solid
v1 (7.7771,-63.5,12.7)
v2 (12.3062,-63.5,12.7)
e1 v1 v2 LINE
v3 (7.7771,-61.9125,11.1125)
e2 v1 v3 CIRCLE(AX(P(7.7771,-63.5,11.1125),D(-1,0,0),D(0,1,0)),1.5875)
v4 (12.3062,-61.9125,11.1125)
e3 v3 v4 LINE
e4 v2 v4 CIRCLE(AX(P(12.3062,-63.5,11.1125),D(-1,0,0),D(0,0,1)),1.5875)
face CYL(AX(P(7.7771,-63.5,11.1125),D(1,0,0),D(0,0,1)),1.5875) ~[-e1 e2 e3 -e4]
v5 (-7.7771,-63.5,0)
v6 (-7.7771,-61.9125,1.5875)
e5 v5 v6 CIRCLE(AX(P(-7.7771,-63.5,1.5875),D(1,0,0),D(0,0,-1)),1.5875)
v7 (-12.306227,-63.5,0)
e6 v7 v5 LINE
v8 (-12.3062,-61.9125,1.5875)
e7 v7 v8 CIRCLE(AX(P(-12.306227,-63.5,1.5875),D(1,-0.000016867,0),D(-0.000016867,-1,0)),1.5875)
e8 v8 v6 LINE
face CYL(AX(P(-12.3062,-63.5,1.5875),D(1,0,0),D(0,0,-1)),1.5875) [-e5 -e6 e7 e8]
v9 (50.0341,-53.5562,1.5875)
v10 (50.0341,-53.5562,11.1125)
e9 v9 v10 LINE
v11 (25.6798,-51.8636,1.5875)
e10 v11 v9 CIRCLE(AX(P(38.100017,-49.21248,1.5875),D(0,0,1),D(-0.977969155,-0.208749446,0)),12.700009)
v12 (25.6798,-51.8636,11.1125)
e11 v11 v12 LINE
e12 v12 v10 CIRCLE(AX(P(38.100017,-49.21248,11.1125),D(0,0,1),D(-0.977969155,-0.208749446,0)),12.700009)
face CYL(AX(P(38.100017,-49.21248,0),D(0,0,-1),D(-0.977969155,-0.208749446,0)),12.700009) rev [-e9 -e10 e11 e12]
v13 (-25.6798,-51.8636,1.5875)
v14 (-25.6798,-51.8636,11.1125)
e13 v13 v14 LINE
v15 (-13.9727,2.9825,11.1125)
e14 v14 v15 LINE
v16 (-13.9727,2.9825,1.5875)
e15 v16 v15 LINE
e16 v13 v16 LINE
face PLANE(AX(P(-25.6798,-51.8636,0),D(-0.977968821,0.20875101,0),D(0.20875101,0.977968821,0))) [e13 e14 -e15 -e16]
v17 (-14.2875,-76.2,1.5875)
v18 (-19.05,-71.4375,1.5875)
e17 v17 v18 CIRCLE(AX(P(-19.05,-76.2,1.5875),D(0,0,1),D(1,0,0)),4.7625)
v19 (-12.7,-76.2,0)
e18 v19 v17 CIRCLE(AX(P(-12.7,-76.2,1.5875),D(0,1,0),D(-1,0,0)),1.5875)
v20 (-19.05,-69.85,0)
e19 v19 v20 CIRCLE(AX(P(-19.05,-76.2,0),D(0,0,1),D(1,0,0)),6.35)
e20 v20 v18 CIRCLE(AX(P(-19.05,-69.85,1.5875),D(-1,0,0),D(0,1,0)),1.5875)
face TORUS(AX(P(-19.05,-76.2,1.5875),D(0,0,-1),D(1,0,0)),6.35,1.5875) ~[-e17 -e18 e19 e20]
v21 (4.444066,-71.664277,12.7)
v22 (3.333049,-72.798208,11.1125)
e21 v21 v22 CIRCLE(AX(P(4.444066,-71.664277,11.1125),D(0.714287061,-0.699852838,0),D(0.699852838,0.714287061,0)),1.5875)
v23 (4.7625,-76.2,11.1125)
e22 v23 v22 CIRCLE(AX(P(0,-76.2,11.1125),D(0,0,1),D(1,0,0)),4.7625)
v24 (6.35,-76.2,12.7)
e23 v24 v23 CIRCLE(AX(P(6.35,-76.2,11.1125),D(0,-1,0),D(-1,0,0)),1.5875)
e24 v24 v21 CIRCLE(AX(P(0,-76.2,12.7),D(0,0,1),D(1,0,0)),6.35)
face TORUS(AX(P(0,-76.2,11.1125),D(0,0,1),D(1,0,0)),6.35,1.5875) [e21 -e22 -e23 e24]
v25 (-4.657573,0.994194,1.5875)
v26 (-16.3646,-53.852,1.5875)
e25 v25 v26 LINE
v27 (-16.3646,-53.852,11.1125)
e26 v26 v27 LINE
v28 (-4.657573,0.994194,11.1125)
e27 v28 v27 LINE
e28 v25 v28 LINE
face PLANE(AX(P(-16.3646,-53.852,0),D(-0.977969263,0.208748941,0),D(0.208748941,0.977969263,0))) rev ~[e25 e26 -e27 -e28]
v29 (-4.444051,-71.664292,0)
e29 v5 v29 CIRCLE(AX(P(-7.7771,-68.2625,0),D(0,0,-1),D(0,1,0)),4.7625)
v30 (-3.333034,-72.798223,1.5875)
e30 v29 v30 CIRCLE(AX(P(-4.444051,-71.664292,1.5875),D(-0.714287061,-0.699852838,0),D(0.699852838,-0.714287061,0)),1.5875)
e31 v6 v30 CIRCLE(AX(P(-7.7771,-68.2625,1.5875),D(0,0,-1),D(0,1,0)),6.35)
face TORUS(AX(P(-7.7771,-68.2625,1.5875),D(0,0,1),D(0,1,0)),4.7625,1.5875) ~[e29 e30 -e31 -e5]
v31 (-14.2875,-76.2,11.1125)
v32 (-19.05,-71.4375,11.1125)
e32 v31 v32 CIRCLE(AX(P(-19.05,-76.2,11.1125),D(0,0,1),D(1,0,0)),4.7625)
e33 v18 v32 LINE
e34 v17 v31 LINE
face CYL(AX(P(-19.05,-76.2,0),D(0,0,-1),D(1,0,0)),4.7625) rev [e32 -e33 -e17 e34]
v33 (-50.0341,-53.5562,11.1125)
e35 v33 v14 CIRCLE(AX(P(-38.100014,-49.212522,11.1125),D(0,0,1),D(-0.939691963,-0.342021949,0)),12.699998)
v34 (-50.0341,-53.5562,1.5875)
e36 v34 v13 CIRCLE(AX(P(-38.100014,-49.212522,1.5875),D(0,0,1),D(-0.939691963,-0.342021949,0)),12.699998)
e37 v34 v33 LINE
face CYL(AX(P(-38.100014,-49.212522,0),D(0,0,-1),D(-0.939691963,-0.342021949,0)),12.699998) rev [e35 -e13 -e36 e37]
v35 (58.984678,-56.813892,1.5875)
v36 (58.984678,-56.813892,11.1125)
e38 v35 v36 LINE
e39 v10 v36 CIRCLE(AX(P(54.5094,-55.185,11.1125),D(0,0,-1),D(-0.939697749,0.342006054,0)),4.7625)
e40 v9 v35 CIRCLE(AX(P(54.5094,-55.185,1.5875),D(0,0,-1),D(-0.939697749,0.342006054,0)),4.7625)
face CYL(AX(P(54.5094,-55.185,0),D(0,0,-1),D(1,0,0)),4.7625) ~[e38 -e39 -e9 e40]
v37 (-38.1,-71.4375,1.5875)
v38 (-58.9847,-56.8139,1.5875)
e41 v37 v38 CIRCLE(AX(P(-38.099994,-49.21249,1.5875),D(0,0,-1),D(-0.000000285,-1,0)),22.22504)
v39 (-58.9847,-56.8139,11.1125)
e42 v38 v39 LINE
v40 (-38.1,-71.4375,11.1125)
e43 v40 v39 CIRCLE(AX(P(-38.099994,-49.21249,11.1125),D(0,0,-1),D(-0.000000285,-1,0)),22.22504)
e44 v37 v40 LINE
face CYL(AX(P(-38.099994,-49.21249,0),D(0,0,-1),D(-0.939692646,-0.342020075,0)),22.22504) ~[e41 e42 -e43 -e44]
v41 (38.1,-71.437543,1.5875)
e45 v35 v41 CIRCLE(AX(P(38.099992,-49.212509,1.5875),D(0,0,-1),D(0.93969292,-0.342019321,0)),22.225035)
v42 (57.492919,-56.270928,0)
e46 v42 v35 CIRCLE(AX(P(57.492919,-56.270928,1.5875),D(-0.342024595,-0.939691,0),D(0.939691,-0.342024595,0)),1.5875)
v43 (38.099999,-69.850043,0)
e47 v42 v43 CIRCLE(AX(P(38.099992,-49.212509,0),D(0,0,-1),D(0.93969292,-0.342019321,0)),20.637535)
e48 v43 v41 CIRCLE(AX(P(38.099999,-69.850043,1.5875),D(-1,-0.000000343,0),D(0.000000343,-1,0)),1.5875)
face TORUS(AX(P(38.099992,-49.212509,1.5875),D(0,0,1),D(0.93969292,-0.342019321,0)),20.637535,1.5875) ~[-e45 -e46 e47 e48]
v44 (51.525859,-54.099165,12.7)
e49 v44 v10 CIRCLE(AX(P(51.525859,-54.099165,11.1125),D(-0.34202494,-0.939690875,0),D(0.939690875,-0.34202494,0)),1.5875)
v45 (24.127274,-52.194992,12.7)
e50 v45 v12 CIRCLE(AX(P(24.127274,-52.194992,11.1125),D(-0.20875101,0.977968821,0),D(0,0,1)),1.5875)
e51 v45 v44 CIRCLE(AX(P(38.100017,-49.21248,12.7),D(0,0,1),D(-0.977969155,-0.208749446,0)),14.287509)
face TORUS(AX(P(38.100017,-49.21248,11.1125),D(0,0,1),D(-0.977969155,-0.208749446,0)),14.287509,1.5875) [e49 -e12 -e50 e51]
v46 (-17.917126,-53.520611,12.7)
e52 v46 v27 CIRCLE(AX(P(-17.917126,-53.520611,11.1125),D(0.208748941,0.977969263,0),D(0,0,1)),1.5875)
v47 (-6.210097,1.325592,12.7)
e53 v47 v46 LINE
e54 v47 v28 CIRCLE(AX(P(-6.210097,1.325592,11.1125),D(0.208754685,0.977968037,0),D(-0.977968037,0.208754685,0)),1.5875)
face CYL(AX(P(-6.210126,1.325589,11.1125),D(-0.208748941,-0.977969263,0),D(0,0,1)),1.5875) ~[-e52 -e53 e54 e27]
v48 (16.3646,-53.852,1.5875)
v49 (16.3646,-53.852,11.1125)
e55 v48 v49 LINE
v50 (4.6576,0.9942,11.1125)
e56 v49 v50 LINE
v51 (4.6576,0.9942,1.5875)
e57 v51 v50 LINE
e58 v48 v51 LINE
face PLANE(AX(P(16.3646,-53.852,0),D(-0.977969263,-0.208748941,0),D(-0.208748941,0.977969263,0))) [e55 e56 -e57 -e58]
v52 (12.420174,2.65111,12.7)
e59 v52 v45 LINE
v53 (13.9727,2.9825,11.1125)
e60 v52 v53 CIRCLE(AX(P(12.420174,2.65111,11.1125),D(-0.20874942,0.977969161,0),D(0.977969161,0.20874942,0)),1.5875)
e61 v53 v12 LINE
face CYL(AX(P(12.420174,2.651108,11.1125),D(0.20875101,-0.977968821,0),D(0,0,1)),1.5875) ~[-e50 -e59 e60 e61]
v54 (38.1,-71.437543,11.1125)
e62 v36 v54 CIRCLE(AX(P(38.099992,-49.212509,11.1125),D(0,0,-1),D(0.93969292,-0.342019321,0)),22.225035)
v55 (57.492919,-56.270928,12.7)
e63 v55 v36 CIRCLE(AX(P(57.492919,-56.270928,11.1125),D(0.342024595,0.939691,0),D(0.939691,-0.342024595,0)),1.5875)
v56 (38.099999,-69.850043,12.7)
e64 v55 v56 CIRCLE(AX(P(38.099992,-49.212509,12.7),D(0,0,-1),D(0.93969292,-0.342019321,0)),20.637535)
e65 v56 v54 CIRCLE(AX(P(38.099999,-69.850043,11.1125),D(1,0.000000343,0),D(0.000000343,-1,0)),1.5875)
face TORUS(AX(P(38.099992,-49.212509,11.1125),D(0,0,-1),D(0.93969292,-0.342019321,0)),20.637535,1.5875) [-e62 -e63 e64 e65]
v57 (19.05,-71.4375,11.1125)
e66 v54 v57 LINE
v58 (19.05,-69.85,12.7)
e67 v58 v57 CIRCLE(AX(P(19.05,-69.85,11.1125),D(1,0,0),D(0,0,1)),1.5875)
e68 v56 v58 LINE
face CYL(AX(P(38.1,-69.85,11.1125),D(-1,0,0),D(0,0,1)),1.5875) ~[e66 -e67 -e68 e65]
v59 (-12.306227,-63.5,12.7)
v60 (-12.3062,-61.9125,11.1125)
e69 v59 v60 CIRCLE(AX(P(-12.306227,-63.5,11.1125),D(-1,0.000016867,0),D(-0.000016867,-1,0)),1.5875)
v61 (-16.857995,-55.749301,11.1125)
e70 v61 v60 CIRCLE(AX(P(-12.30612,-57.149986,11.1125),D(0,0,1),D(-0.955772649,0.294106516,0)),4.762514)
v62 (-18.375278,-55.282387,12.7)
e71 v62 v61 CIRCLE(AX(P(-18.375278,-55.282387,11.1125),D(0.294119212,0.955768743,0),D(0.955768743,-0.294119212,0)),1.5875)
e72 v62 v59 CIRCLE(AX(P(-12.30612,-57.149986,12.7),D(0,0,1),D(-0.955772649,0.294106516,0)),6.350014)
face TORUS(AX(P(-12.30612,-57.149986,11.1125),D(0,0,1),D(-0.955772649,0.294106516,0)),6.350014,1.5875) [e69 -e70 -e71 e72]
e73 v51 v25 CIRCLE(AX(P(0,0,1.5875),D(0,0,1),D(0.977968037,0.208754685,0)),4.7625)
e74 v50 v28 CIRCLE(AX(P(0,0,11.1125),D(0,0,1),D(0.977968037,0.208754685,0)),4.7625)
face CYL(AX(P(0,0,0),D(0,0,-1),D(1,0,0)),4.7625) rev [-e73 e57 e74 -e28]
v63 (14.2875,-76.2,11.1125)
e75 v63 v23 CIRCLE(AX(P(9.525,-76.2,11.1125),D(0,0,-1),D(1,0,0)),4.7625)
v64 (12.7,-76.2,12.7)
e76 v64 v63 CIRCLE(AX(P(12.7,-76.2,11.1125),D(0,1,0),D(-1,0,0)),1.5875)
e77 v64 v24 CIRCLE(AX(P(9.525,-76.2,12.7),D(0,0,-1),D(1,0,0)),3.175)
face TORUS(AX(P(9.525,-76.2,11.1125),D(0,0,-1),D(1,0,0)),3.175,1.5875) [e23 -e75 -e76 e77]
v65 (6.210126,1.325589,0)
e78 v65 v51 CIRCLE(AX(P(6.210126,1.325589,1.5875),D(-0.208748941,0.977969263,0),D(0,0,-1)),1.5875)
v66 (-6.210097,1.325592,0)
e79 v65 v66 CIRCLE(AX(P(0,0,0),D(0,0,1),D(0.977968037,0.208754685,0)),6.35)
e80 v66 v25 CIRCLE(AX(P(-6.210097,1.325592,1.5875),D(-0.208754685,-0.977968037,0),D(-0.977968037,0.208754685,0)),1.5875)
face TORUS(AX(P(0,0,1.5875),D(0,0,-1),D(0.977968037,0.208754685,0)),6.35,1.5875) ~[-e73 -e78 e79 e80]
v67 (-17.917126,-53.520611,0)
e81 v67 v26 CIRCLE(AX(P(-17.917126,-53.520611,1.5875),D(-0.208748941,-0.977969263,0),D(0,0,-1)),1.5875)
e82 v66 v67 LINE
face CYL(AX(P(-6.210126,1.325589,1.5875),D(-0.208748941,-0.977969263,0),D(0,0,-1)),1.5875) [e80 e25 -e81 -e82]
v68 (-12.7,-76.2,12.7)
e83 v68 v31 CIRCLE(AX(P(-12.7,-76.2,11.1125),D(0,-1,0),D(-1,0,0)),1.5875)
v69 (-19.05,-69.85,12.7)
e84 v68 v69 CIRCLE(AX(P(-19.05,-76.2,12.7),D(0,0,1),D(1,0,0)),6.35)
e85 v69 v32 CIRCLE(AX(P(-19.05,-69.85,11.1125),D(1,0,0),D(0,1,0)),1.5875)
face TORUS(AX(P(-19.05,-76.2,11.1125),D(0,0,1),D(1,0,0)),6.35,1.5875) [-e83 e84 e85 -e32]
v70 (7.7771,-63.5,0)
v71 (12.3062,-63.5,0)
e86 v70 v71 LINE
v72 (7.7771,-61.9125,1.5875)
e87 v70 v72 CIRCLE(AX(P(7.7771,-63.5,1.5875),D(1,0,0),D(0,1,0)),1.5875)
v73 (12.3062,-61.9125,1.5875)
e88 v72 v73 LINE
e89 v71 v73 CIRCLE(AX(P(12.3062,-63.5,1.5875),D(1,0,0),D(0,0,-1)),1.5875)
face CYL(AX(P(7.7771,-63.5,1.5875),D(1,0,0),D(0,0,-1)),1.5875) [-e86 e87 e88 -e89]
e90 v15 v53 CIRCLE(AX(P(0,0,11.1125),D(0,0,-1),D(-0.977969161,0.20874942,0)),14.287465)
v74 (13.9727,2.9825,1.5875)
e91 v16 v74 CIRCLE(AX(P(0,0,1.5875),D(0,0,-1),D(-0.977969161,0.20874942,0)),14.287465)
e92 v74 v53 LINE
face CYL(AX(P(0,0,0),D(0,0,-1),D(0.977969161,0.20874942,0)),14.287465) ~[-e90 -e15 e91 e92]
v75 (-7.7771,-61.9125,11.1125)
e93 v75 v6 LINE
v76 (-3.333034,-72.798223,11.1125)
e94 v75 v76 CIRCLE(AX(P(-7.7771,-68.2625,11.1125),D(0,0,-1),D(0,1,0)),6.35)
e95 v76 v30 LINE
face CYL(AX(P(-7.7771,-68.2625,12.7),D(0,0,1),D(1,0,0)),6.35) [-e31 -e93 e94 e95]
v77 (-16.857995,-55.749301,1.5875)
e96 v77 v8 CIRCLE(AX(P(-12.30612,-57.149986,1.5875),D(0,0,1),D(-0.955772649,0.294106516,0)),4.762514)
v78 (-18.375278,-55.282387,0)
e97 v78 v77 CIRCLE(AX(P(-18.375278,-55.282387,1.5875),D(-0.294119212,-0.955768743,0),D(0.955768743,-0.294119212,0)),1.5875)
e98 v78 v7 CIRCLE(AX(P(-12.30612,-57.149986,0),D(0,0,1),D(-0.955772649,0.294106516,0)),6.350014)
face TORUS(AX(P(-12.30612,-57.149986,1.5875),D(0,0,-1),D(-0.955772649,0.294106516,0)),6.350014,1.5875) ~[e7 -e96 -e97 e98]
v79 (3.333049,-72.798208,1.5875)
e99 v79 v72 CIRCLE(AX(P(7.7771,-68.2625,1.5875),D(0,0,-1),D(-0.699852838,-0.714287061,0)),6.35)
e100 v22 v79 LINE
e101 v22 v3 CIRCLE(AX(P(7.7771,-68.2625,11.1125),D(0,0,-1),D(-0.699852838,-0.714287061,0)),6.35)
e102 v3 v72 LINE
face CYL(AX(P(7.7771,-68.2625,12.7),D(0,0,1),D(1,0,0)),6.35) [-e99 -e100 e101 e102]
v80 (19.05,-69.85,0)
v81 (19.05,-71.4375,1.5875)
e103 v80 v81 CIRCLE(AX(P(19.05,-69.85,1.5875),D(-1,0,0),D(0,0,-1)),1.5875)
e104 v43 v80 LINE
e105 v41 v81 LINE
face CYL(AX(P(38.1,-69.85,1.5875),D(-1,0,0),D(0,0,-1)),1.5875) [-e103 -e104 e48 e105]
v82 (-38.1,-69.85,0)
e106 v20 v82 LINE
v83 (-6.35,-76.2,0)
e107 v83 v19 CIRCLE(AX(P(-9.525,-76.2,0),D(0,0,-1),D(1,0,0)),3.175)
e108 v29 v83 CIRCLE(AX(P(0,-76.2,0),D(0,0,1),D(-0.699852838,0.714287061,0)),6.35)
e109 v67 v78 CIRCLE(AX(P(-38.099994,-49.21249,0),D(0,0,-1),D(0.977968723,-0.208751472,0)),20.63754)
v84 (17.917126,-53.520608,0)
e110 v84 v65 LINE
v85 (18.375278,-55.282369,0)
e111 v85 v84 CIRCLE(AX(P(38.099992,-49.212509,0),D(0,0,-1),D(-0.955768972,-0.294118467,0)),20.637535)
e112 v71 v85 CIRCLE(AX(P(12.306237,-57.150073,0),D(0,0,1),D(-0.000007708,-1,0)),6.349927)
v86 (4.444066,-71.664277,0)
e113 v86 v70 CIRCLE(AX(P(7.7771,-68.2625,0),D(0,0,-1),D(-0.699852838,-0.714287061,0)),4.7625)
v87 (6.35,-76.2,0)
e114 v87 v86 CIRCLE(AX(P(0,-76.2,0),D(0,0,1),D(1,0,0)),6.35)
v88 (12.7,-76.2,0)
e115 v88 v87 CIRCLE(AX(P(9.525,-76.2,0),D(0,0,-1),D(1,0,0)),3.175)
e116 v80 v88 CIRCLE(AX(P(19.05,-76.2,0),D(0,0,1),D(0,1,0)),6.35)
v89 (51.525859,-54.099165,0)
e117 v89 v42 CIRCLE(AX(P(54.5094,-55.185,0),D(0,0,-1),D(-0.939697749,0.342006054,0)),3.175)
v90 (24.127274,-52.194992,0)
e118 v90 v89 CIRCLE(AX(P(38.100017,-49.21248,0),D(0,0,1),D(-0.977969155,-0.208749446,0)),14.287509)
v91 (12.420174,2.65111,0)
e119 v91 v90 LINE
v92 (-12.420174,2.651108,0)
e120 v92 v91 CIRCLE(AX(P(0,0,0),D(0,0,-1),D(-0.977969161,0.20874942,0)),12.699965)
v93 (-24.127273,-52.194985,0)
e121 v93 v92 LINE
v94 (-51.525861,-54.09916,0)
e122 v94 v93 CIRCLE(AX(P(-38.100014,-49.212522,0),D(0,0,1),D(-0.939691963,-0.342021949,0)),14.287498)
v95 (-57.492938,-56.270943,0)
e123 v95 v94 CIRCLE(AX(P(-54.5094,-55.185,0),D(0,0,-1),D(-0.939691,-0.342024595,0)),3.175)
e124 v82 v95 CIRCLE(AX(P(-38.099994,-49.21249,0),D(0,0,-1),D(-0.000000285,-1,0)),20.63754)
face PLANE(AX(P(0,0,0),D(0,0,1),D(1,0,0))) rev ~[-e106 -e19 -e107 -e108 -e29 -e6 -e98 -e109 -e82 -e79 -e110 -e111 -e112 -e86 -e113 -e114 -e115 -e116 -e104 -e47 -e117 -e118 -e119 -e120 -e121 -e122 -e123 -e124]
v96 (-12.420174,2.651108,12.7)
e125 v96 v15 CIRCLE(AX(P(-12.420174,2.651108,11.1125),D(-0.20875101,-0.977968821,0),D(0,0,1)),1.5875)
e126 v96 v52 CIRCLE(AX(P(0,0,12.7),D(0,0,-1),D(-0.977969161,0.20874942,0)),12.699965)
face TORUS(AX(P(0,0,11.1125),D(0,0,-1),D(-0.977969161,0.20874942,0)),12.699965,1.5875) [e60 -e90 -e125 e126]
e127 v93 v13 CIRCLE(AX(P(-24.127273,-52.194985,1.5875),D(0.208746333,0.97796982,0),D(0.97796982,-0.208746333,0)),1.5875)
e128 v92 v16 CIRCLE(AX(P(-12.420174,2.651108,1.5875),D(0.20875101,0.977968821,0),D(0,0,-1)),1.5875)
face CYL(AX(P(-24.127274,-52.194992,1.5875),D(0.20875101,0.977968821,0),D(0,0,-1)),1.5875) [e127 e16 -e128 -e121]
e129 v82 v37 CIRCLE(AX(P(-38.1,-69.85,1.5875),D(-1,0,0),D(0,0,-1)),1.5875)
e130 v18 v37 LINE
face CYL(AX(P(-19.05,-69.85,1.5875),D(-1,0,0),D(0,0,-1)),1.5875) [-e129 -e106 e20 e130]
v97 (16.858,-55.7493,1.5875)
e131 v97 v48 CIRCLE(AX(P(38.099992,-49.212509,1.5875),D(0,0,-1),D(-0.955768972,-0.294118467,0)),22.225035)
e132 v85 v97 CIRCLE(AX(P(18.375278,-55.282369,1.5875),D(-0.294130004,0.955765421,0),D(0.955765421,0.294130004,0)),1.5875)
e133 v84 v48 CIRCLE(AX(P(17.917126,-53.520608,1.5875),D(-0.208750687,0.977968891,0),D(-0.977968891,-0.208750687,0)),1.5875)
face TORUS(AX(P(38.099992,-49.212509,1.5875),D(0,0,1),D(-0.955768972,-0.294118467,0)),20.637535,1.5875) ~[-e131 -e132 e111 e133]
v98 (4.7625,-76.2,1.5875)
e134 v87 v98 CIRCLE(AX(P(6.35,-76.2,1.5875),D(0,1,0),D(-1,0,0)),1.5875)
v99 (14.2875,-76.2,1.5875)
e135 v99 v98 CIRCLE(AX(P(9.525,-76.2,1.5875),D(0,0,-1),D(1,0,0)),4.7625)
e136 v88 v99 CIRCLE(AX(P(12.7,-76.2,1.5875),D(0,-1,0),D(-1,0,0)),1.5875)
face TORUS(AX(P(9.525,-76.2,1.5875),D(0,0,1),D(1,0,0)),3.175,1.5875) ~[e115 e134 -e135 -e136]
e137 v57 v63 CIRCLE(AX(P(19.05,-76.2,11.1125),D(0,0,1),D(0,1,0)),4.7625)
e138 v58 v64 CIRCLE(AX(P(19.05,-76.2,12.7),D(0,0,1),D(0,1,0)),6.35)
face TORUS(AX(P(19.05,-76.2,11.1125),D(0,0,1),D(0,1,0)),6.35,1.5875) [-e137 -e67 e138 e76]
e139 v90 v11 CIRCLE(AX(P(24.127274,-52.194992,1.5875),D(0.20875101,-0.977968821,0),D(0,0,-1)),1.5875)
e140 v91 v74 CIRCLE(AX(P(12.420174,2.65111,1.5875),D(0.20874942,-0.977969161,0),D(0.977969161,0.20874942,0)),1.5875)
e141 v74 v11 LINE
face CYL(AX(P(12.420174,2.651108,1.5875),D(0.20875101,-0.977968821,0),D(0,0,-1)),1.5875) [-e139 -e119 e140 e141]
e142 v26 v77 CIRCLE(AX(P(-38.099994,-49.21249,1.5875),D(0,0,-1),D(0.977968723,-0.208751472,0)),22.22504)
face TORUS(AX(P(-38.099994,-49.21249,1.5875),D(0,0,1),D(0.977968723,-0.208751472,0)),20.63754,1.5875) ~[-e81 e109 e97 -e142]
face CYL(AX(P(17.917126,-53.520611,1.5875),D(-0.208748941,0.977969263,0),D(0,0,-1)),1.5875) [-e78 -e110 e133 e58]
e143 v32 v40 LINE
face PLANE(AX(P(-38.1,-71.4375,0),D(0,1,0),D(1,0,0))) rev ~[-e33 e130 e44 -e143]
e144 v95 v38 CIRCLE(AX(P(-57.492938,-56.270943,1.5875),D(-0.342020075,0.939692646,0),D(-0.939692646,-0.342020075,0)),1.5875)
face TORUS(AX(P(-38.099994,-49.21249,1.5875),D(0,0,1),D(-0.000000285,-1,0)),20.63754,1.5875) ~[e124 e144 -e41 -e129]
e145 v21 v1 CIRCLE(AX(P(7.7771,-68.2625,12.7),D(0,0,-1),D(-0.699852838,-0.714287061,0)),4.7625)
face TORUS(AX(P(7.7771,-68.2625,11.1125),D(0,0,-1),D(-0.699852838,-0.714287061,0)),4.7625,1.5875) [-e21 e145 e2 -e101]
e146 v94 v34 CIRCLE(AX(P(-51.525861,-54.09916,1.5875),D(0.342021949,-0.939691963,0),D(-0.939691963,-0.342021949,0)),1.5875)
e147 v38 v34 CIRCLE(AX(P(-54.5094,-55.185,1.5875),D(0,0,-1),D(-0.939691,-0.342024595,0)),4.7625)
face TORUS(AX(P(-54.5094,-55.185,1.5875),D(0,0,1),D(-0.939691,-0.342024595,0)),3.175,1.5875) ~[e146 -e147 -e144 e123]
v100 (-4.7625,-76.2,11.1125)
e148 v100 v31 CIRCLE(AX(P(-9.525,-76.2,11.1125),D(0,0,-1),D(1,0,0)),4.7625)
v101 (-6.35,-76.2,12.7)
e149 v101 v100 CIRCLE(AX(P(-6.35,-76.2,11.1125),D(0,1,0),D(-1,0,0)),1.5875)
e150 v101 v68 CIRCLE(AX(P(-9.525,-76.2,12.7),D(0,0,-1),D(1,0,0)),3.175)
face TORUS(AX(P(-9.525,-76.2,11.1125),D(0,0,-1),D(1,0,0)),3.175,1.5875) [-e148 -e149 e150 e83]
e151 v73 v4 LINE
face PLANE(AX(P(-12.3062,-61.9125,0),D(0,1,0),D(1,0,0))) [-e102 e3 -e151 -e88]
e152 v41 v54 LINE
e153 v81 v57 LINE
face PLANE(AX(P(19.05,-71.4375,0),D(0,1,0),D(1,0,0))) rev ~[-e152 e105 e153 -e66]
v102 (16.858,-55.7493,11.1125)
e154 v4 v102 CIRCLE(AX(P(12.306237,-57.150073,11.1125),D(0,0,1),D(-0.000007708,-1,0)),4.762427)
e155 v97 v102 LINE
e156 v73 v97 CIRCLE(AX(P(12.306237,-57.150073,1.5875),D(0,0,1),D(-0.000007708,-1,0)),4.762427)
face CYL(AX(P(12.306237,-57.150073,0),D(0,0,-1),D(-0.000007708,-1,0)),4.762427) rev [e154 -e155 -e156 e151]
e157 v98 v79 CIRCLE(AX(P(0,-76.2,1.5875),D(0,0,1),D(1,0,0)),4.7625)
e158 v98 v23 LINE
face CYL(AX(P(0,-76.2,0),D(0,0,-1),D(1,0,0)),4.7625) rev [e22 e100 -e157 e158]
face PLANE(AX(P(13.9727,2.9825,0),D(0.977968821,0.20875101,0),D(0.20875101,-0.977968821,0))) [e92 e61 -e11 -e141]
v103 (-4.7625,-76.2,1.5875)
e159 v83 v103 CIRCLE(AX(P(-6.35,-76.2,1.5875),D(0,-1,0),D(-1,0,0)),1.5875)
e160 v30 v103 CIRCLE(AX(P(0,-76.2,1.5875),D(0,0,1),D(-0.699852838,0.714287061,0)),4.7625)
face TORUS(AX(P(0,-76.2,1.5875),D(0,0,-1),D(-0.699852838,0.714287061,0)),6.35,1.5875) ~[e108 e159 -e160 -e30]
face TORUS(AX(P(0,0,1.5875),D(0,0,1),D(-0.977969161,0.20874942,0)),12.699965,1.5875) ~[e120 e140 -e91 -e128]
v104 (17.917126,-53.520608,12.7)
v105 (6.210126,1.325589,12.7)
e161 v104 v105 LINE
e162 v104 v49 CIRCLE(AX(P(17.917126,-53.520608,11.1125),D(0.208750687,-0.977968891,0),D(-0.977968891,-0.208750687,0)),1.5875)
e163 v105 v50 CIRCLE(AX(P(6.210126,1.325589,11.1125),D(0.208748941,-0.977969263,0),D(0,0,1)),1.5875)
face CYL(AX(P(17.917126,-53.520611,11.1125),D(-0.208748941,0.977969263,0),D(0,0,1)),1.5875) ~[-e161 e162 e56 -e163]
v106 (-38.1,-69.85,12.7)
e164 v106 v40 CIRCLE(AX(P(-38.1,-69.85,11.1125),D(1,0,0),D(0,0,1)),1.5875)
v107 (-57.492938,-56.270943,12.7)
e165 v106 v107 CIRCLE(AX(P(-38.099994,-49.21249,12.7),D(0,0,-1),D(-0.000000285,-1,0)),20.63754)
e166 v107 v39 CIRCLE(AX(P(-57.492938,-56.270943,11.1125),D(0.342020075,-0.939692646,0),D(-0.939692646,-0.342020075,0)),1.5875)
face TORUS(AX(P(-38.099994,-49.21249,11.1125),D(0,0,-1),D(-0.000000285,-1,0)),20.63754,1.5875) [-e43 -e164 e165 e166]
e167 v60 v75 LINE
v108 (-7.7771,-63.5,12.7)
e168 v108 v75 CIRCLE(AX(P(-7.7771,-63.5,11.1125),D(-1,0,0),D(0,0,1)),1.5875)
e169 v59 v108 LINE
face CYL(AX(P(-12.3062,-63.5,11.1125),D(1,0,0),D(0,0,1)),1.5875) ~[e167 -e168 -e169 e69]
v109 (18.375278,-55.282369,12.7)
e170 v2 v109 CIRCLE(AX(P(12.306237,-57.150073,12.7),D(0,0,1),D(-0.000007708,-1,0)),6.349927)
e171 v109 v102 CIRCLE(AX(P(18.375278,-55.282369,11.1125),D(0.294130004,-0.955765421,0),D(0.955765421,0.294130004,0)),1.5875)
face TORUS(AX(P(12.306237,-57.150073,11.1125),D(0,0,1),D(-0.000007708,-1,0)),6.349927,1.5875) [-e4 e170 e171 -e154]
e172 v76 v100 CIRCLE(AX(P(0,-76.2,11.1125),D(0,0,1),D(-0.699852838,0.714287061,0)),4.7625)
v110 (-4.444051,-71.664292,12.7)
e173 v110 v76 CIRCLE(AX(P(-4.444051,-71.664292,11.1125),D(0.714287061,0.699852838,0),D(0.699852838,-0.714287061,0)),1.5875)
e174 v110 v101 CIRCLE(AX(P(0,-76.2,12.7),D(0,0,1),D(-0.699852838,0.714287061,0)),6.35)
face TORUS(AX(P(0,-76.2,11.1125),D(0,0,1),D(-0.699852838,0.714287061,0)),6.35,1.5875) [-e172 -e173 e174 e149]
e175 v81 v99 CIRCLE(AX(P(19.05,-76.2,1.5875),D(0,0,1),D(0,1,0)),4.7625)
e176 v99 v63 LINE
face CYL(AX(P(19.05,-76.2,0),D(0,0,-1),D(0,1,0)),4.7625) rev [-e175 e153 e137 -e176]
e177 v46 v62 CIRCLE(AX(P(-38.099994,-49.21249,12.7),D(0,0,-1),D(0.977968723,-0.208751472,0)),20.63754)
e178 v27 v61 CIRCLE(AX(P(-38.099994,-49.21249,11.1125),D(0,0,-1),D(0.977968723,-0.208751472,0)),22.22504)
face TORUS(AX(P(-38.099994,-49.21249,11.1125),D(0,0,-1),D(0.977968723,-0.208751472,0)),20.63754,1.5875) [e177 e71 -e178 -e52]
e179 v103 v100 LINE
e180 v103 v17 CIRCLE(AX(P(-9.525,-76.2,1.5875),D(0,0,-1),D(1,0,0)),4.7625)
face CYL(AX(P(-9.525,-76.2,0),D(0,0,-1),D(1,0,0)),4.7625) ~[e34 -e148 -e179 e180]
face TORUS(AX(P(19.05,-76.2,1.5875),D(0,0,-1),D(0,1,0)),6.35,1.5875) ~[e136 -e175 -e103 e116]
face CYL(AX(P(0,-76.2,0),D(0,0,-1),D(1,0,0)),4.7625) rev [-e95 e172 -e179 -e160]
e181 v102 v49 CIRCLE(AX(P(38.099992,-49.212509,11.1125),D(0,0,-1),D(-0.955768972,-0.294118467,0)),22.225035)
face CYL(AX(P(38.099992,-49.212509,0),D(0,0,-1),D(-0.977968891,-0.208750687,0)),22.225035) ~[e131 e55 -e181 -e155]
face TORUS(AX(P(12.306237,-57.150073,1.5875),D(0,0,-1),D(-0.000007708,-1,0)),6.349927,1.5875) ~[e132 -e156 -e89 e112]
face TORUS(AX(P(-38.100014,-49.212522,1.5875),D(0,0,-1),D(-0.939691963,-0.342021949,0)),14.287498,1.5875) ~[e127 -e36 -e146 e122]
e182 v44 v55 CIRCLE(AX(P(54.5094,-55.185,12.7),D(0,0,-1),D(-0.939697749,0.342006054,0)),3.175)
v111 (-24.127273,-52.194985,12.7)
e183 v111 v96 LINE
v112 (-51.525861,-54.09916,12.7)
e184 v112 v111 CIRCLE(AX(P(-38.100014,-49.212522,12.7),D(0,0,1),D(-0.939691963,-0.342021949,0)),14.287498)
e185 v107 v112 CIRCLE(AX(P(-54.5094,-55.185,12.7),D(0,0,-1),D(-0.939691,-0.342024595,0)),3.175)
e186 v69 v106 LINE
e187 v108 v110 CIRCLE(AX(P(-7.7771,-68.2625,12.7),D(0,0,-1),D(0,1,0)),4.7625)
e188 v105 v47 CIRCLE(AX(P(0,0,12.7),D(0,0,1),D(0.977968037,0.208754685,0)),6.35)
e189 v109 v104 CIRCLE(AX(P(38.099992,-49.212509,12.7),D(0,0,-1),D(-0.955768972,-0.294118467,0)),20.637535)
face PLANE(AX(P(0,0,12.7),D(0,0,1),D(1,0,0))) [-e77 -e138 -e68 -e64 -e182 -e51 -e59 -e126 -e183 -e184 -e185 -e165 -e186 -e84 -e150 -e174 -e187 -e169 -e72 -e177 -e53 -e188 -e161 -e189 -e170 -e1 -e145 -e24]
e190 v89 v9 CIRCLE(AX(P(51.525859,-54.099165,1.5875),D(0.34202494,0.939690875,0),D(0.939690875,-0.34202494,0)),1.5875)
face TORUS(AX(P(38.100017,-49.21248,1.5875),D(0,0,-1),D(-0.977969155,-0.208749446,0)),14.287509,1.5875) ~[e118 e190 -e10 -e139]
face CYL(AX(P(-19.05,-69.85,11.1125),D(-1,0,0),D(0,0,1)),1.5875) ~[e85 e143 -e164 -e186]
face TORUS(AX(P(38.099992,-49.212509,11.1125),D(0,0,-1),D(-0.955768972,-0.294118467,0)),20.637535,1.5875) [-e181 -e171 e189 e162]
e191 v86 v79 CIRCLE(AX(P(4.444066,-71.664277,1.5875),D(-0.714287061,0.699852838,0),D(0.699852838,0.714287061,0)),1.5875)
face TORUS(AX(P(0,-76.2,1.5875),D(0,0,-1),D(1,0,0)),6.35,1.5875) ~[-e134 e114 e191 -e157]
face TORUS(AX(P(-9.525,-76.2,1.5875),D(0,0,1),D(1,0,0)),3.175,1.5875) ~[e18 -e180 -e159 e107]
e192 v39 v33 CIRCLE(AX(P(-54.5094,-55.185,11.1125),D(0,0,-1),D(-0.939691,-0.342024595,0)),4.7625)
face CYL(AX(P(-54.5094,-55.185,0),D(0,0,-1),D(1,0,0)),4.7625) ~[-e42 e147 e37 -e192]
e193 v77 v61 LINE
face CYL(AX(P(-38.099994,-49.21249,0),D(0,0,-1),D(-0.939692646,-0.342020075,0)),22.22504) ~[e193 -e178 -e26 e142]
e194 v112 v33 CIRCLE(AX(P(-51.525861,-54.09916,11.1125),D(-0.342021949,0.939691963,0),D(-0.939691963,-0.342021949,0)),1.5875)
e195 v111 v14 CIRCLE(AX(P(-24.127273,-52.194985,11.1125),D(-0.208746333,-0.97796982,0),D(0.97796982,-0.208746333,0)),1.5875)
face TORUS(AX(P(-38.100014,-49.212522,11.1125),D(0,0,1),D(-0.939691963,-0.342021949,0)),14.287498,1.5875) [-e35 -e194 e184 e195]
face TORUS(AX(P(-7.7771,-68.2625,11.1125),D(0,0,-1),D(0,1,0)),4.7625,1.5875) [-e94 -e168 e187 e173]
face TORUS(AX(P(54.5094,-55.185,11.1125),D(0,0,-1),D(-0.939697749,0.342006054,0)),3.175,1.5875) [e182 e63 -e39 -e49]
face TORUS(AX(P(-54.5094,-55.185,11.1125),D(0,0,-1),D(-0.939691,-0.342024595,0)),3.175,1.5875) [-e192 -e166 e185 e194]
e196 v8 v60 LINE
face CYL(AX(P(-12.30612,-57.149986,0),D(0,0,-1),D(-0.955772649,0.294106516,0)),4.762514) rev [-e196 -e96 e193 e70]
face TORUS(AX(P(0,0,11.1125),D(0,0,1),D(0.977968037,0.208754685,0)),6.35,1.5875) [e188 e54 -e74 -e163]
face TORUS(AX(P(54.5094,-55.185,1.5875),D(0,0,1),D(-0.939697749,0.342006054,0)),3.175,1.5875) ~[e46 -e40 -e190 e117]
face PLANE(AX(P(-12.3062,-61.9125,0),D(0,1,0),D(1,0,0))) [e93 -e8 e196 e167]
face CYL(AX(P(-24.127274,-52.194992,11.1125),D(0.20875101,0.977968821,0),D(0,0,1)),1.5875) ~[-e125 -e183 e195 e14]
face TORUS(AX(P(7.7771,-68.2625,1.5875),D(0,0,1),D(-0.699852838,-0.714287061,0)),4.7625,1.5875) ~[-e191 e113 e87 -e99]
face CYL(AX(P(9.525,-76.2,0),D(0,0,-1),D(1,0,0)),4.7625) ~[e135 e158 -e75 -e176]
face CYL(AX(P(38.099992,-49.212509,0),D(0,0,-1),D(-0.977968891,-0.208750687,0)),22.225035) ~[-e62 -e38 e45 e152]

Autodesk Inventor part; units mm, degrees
ref_plane "YZ Plane" through (0, 0, 0) normal (1, 0, 0) x (0, 1, 0)
ref_plane "XZ Plane" through (0, 0, 0) normal (0, 1, 0) x (-1, 0, 0)
ref_plane "XY Plane" through (0, 0, 0) normal (0, 0, 1) x (1, 0, 0)
sketch "Sketch2" plane through (0, 0, 0) normal (0, 0, 1) x (1, 0, 0)
  circle A0 centre (0, 0) radius 4.7625
  circle A1 centre (0, -76.2) radius 4.7625
  circle A2 centre (0, 0) radius 14.2875 construction
  circle A3 centre (0, -76.2) radius 14.2875 construction
  circle A4 centre (38.1, -49.2125) radius 12.7 construction
  circle A5 centre (9.525, 0) radius 4.7625 construction
  line L0 (-38.1, -61.9125) -> (0, -61.9125) construction
  circle A6 centre (-38.1, -49.2125) radius 12.7 construction
  line L1 (0, -61.9125) -> (38.1, -61.9125) construction
  arc A7 (13.9727, 2.9825) -> (-13.9727, 2.9825) centre (0, 0) ccw
  line L2 (-25.6798, -51.8636) -> (-13.9727, 2.9825)
  line L3 (13.9727, 2.9825) -> (25.6798, -51.8636)
  circle A8 centre (-54.5094, -55.185) radius 4.7625
  circle A9 centre (54.5094, -55.185) radius 4.7625
  arc A10 (-50.0341, -53.5562) -> (-25.6798, -51.8636) centre (-38.1, -49.2125) ccw
  line L4 (-38.1, -49.2125) -> (-25.4, -49.2125) construction
  line L5 (-38.1, -49.2125) -> (-50.0341, -53.5562) construction
  arc A11 (25.6798, -51.8636) -> (50.0341, -53.5562) centre (38.1, -49.2125) ccw
  line L6 (38.1, -49.2125) -> (50.0341, -53.5562) construction
  line L7 (38.1, -49.2125) -> (25.4, -49.2125) construction
  arc A12 (-58.9847, -56.8139) -> (-16.3646, -53.852) centre (-38.1, -49.2125) ccw
  line L8 (-16.3646, -53.852) -> (-4.6576, 0.9942)
  line L9 (16.3646, -53.852) -> (4.6576, 0.9942)
  circle A13 centre (9.525, -76.2) radius 4.7625
  circle A14 centre (-9.525, -76.2) radius 4.7625
  line L10 (-38.1, -71.4375) -> (-9.525, -71.4375)
  arc A15 (16.3646, -53.852) -> (58.9847, -56.8139) centre (38.1, -49.2125) ccw
  line L11 (9.525, -71.4375) -> (38.1, -71.4375)
  arc A16 (-14.2875, -76.2) -> (-19.05, -71.4375) centre (-19.05, -76.2) ccw
  arc A17 (19.05, -71.4375) -> (14.2875, -76.2) centre (19.05, -76.2) ccw
  line L12 (-19.861, -61.9125) -> (19.861, -61.9125)
  arc A18 (-16.858, -55.7493) -> (-12.3062, -61.9125) centre (-12.3062, -57.15) ccw
  arc A19 (12.3062, -61.9125) -> (16.858, -55.7493) centre (12.3062, -57.15) ccw
  point P0 (-4.7625, -76.2)
  point P1 (4.7625, -76.2)
  point P2 (14.2875, -76.2)
  dimension "d18" = 9.525
  dimension "d19" = 76.2
  dimension "d20" = 76.2
  dimension "d21" = 25.4
  dimension "d23" = 160
  dimension "d24" = 160
extrude "Extrusion2" add sketch "Sketch2" along normal blind 12.7 contours A0 L8 A12 A8 A10 L2 A7 L3 A11 A9 A15 L9 | A15 L12 A19 | A18 L12 A12 | A15 L11 A13 A1 A14 L10 A12 L12 | A9 | A17 A13 L11 | A8 | L10 A14 A16 | A13 | A14
sketch "Sketch4" plane through (0, 0, 12.7) normal (0, 0, 1) x (1, 0, 0)
  arc A0 (-14.2875, -76.2) -> (-4.7625, -76.2) centre (-9.525, -76.2) ccw projected
  arc A1 (4.7625, -76.2) -> (14.2875, -76.2) centre (9.525, -76.2) ccw projected
  arc A2 (58.9847, -56.8139) -> (50.0341, -53.5562) centre (54.5094, -55.185) ccw projected
  arc A3 (25.6798, -51.8636) -> (50.0341, -53.5562) centre (38.1, -49.2125) ccw projected
  line L0 (25.6798, -51.8636) -> (13.9727, 2.9825) projected
  arc A4 (13.9727, 2.9825) -> (-13.9727, 2.9825) centre (0, 0) ccw projected
  line L1 (-13.9727, 2.9825) -> (-25.6798, -51.8636) projected
  arc A5 (-50.0341, -53.5562) -> (-25.6798, -51.8636) centre (-38.1, -49.2125) ccw projected
  arc A6 (-50.0341, -53.5562) -> (-58.9847, -56.8139) centre (-54.5094, -55.185) ccw projected
  arc A7 (-58.9847, -56.8139) -> (-38.1, -71.4375) centre (-38.1, -49.2125) ccw projected
  line L2 (-16.3646, -53.852) -> (-4.6576, 0.9942) projected
  arc A8 (4.6576, 0.9942) -> (-4.6576, 0.9942) centre (0, 0) ccw projected
  line L3 (4.6576, 0.9942) -> (16.3646, -53.852) projected
  circle A9 centre (7.7771, -68.2625) radius 6.35
  circle A10 centre (-7.7771, -68.2625) radius 6.35
  arc A11 (16.3646, -53.852) -> (16.858, -55.7493) centre (38.1, -49.2125) ccw projected
  arc A12 (19.05, -71.4375) -> (14.2875, -76.2) centre (19.05, -76.2) ccw projected
  line L4 (19.05, -71.4375) -> (38.1, -71.4375) projected
  arc A13 (38.1, -71.4375) -> (58.9847, -56.8139) centre (38.1, -49.2125) ccw projected
  line L5 (-38.1, -71.4375) -> (-19.05, -71.4375) projected
  arc A14 (-14.2875, -76.2) -> (-19.05, -71.4375) centre (-19.05, -76.2) ccw projected
  arc A15 (4.7625, -76.2) -> (-4.7625, -76.2) centre (0, -76.2) ccw projected
  arc A16 (-16.858, -55.7493) -> (-16.3646, -53.852) centre (-38.1, -49.2125) ccw projected
  arc A17 (12.3062, -61.9125) -> (16.858, -55.7493) centre (12.3062, -57.15) ccw projected
  line L6 (12.3062, -61.9125) -> (-12.3062, -61.9125) projected
  arc A18 (-16.858, -55.7493) -> (-12.3062, -61.9125) centre (-12.3062, -57.15) ccw projected
  arc A19 (4.7625, -76.2) -> (-4.7625, -76.2) centre (0, -76.2) ccw projected
  point P0 (7.7771, -61.9125)
  point P1 (-7.7771, -61.9125)
  point P2 (-3.3331, -72.7982)
  point P3 (3.3331, -72.7982)
  dimension "d32" = 12.7
extrude "Extrusion3" cut sketch "Sketch4" against normal through all contours A10 L6 A9 A15
fillet "Fillet2" radius 1.5875 56 edges at (-37.2195, -61.8819, 12.7) (-56.1383, -50.7097, 12.7) (-50.8477, -67.4182, 12.7) (-28.575, -71.4375, 12.7) (-15.6824, -72.8324, 12.7) (-9.525, -80.9625, 12.7) (-4.3906, -74.355, 12.7) (-1.8982, -65.8624, 12.7) (-10.0417, -61.9125, 12.7) (-16.1371, -59.9793, 12.7) (-16.5904, -54.8061, 12.7) (-10.5111, -26.4289, 12.7) (0, 4.7625, 12.7) (10.5111, -26.4289, 12.7) (16.5904, -54.8061, 12.7) (16.1371, -59.9793, 12.7) (10.0417, -61.9125, 12.7) (1.8982, -65.8624, 12.7) (4.3906, -74.355, 12.7) (9.525, -80.9625, 12.7) (15.6824, -72.8324, 12.7) (28.575, -71.4375, 12.7) (50.8477, -67.4182, 12.7) (56.1383, -50.7097, 12.7) (37.2195, -61.8819, 12.7) (19.8263, -24.4406, 12.7) (0, 14.2875, 12.7) (-19.8263, -24.4406, 12.7) (-37.2195, -61.8819, 0) (-56.1383, -50.7097, 0) (-50.8477, -67.4182, 0) (-28.575, -71.4375, 0) (-15.6824, -72.8324, 0) (-9.525, -80.9625, 0) (-4.3906, -74.355, 0) (-1.8982, -65.8624, 0) (-10.0417, -61.9125, 0) (-16.1371, -59.9793, 0) (-16.5904, -54.8061, 0) (-10.5111, -26.4289, 0) (0, 4.7625, 0) (10.5111, -26.4289, 0) (16.5904, -54.8061, 0) (16.1371, -59.9793, 0) (10.0417, -61.9125, 0) (1.8982, -65.8624, 0) (4.3906, -74.355, 0) (9.525, -80.9625, 0) (15.6824, -72.8324, 0) (28.575, -71.4375, 0) (50.8477, -67.4182, 0) (56.1383, -50.7097, 0) (37.2195, -61.8819, 0) (19.8263, -24.4406, 0) (0, 14.2875, 0) (-19.8263, -24.4406, 0)
properties part number "DoubleBedDowelHook"
